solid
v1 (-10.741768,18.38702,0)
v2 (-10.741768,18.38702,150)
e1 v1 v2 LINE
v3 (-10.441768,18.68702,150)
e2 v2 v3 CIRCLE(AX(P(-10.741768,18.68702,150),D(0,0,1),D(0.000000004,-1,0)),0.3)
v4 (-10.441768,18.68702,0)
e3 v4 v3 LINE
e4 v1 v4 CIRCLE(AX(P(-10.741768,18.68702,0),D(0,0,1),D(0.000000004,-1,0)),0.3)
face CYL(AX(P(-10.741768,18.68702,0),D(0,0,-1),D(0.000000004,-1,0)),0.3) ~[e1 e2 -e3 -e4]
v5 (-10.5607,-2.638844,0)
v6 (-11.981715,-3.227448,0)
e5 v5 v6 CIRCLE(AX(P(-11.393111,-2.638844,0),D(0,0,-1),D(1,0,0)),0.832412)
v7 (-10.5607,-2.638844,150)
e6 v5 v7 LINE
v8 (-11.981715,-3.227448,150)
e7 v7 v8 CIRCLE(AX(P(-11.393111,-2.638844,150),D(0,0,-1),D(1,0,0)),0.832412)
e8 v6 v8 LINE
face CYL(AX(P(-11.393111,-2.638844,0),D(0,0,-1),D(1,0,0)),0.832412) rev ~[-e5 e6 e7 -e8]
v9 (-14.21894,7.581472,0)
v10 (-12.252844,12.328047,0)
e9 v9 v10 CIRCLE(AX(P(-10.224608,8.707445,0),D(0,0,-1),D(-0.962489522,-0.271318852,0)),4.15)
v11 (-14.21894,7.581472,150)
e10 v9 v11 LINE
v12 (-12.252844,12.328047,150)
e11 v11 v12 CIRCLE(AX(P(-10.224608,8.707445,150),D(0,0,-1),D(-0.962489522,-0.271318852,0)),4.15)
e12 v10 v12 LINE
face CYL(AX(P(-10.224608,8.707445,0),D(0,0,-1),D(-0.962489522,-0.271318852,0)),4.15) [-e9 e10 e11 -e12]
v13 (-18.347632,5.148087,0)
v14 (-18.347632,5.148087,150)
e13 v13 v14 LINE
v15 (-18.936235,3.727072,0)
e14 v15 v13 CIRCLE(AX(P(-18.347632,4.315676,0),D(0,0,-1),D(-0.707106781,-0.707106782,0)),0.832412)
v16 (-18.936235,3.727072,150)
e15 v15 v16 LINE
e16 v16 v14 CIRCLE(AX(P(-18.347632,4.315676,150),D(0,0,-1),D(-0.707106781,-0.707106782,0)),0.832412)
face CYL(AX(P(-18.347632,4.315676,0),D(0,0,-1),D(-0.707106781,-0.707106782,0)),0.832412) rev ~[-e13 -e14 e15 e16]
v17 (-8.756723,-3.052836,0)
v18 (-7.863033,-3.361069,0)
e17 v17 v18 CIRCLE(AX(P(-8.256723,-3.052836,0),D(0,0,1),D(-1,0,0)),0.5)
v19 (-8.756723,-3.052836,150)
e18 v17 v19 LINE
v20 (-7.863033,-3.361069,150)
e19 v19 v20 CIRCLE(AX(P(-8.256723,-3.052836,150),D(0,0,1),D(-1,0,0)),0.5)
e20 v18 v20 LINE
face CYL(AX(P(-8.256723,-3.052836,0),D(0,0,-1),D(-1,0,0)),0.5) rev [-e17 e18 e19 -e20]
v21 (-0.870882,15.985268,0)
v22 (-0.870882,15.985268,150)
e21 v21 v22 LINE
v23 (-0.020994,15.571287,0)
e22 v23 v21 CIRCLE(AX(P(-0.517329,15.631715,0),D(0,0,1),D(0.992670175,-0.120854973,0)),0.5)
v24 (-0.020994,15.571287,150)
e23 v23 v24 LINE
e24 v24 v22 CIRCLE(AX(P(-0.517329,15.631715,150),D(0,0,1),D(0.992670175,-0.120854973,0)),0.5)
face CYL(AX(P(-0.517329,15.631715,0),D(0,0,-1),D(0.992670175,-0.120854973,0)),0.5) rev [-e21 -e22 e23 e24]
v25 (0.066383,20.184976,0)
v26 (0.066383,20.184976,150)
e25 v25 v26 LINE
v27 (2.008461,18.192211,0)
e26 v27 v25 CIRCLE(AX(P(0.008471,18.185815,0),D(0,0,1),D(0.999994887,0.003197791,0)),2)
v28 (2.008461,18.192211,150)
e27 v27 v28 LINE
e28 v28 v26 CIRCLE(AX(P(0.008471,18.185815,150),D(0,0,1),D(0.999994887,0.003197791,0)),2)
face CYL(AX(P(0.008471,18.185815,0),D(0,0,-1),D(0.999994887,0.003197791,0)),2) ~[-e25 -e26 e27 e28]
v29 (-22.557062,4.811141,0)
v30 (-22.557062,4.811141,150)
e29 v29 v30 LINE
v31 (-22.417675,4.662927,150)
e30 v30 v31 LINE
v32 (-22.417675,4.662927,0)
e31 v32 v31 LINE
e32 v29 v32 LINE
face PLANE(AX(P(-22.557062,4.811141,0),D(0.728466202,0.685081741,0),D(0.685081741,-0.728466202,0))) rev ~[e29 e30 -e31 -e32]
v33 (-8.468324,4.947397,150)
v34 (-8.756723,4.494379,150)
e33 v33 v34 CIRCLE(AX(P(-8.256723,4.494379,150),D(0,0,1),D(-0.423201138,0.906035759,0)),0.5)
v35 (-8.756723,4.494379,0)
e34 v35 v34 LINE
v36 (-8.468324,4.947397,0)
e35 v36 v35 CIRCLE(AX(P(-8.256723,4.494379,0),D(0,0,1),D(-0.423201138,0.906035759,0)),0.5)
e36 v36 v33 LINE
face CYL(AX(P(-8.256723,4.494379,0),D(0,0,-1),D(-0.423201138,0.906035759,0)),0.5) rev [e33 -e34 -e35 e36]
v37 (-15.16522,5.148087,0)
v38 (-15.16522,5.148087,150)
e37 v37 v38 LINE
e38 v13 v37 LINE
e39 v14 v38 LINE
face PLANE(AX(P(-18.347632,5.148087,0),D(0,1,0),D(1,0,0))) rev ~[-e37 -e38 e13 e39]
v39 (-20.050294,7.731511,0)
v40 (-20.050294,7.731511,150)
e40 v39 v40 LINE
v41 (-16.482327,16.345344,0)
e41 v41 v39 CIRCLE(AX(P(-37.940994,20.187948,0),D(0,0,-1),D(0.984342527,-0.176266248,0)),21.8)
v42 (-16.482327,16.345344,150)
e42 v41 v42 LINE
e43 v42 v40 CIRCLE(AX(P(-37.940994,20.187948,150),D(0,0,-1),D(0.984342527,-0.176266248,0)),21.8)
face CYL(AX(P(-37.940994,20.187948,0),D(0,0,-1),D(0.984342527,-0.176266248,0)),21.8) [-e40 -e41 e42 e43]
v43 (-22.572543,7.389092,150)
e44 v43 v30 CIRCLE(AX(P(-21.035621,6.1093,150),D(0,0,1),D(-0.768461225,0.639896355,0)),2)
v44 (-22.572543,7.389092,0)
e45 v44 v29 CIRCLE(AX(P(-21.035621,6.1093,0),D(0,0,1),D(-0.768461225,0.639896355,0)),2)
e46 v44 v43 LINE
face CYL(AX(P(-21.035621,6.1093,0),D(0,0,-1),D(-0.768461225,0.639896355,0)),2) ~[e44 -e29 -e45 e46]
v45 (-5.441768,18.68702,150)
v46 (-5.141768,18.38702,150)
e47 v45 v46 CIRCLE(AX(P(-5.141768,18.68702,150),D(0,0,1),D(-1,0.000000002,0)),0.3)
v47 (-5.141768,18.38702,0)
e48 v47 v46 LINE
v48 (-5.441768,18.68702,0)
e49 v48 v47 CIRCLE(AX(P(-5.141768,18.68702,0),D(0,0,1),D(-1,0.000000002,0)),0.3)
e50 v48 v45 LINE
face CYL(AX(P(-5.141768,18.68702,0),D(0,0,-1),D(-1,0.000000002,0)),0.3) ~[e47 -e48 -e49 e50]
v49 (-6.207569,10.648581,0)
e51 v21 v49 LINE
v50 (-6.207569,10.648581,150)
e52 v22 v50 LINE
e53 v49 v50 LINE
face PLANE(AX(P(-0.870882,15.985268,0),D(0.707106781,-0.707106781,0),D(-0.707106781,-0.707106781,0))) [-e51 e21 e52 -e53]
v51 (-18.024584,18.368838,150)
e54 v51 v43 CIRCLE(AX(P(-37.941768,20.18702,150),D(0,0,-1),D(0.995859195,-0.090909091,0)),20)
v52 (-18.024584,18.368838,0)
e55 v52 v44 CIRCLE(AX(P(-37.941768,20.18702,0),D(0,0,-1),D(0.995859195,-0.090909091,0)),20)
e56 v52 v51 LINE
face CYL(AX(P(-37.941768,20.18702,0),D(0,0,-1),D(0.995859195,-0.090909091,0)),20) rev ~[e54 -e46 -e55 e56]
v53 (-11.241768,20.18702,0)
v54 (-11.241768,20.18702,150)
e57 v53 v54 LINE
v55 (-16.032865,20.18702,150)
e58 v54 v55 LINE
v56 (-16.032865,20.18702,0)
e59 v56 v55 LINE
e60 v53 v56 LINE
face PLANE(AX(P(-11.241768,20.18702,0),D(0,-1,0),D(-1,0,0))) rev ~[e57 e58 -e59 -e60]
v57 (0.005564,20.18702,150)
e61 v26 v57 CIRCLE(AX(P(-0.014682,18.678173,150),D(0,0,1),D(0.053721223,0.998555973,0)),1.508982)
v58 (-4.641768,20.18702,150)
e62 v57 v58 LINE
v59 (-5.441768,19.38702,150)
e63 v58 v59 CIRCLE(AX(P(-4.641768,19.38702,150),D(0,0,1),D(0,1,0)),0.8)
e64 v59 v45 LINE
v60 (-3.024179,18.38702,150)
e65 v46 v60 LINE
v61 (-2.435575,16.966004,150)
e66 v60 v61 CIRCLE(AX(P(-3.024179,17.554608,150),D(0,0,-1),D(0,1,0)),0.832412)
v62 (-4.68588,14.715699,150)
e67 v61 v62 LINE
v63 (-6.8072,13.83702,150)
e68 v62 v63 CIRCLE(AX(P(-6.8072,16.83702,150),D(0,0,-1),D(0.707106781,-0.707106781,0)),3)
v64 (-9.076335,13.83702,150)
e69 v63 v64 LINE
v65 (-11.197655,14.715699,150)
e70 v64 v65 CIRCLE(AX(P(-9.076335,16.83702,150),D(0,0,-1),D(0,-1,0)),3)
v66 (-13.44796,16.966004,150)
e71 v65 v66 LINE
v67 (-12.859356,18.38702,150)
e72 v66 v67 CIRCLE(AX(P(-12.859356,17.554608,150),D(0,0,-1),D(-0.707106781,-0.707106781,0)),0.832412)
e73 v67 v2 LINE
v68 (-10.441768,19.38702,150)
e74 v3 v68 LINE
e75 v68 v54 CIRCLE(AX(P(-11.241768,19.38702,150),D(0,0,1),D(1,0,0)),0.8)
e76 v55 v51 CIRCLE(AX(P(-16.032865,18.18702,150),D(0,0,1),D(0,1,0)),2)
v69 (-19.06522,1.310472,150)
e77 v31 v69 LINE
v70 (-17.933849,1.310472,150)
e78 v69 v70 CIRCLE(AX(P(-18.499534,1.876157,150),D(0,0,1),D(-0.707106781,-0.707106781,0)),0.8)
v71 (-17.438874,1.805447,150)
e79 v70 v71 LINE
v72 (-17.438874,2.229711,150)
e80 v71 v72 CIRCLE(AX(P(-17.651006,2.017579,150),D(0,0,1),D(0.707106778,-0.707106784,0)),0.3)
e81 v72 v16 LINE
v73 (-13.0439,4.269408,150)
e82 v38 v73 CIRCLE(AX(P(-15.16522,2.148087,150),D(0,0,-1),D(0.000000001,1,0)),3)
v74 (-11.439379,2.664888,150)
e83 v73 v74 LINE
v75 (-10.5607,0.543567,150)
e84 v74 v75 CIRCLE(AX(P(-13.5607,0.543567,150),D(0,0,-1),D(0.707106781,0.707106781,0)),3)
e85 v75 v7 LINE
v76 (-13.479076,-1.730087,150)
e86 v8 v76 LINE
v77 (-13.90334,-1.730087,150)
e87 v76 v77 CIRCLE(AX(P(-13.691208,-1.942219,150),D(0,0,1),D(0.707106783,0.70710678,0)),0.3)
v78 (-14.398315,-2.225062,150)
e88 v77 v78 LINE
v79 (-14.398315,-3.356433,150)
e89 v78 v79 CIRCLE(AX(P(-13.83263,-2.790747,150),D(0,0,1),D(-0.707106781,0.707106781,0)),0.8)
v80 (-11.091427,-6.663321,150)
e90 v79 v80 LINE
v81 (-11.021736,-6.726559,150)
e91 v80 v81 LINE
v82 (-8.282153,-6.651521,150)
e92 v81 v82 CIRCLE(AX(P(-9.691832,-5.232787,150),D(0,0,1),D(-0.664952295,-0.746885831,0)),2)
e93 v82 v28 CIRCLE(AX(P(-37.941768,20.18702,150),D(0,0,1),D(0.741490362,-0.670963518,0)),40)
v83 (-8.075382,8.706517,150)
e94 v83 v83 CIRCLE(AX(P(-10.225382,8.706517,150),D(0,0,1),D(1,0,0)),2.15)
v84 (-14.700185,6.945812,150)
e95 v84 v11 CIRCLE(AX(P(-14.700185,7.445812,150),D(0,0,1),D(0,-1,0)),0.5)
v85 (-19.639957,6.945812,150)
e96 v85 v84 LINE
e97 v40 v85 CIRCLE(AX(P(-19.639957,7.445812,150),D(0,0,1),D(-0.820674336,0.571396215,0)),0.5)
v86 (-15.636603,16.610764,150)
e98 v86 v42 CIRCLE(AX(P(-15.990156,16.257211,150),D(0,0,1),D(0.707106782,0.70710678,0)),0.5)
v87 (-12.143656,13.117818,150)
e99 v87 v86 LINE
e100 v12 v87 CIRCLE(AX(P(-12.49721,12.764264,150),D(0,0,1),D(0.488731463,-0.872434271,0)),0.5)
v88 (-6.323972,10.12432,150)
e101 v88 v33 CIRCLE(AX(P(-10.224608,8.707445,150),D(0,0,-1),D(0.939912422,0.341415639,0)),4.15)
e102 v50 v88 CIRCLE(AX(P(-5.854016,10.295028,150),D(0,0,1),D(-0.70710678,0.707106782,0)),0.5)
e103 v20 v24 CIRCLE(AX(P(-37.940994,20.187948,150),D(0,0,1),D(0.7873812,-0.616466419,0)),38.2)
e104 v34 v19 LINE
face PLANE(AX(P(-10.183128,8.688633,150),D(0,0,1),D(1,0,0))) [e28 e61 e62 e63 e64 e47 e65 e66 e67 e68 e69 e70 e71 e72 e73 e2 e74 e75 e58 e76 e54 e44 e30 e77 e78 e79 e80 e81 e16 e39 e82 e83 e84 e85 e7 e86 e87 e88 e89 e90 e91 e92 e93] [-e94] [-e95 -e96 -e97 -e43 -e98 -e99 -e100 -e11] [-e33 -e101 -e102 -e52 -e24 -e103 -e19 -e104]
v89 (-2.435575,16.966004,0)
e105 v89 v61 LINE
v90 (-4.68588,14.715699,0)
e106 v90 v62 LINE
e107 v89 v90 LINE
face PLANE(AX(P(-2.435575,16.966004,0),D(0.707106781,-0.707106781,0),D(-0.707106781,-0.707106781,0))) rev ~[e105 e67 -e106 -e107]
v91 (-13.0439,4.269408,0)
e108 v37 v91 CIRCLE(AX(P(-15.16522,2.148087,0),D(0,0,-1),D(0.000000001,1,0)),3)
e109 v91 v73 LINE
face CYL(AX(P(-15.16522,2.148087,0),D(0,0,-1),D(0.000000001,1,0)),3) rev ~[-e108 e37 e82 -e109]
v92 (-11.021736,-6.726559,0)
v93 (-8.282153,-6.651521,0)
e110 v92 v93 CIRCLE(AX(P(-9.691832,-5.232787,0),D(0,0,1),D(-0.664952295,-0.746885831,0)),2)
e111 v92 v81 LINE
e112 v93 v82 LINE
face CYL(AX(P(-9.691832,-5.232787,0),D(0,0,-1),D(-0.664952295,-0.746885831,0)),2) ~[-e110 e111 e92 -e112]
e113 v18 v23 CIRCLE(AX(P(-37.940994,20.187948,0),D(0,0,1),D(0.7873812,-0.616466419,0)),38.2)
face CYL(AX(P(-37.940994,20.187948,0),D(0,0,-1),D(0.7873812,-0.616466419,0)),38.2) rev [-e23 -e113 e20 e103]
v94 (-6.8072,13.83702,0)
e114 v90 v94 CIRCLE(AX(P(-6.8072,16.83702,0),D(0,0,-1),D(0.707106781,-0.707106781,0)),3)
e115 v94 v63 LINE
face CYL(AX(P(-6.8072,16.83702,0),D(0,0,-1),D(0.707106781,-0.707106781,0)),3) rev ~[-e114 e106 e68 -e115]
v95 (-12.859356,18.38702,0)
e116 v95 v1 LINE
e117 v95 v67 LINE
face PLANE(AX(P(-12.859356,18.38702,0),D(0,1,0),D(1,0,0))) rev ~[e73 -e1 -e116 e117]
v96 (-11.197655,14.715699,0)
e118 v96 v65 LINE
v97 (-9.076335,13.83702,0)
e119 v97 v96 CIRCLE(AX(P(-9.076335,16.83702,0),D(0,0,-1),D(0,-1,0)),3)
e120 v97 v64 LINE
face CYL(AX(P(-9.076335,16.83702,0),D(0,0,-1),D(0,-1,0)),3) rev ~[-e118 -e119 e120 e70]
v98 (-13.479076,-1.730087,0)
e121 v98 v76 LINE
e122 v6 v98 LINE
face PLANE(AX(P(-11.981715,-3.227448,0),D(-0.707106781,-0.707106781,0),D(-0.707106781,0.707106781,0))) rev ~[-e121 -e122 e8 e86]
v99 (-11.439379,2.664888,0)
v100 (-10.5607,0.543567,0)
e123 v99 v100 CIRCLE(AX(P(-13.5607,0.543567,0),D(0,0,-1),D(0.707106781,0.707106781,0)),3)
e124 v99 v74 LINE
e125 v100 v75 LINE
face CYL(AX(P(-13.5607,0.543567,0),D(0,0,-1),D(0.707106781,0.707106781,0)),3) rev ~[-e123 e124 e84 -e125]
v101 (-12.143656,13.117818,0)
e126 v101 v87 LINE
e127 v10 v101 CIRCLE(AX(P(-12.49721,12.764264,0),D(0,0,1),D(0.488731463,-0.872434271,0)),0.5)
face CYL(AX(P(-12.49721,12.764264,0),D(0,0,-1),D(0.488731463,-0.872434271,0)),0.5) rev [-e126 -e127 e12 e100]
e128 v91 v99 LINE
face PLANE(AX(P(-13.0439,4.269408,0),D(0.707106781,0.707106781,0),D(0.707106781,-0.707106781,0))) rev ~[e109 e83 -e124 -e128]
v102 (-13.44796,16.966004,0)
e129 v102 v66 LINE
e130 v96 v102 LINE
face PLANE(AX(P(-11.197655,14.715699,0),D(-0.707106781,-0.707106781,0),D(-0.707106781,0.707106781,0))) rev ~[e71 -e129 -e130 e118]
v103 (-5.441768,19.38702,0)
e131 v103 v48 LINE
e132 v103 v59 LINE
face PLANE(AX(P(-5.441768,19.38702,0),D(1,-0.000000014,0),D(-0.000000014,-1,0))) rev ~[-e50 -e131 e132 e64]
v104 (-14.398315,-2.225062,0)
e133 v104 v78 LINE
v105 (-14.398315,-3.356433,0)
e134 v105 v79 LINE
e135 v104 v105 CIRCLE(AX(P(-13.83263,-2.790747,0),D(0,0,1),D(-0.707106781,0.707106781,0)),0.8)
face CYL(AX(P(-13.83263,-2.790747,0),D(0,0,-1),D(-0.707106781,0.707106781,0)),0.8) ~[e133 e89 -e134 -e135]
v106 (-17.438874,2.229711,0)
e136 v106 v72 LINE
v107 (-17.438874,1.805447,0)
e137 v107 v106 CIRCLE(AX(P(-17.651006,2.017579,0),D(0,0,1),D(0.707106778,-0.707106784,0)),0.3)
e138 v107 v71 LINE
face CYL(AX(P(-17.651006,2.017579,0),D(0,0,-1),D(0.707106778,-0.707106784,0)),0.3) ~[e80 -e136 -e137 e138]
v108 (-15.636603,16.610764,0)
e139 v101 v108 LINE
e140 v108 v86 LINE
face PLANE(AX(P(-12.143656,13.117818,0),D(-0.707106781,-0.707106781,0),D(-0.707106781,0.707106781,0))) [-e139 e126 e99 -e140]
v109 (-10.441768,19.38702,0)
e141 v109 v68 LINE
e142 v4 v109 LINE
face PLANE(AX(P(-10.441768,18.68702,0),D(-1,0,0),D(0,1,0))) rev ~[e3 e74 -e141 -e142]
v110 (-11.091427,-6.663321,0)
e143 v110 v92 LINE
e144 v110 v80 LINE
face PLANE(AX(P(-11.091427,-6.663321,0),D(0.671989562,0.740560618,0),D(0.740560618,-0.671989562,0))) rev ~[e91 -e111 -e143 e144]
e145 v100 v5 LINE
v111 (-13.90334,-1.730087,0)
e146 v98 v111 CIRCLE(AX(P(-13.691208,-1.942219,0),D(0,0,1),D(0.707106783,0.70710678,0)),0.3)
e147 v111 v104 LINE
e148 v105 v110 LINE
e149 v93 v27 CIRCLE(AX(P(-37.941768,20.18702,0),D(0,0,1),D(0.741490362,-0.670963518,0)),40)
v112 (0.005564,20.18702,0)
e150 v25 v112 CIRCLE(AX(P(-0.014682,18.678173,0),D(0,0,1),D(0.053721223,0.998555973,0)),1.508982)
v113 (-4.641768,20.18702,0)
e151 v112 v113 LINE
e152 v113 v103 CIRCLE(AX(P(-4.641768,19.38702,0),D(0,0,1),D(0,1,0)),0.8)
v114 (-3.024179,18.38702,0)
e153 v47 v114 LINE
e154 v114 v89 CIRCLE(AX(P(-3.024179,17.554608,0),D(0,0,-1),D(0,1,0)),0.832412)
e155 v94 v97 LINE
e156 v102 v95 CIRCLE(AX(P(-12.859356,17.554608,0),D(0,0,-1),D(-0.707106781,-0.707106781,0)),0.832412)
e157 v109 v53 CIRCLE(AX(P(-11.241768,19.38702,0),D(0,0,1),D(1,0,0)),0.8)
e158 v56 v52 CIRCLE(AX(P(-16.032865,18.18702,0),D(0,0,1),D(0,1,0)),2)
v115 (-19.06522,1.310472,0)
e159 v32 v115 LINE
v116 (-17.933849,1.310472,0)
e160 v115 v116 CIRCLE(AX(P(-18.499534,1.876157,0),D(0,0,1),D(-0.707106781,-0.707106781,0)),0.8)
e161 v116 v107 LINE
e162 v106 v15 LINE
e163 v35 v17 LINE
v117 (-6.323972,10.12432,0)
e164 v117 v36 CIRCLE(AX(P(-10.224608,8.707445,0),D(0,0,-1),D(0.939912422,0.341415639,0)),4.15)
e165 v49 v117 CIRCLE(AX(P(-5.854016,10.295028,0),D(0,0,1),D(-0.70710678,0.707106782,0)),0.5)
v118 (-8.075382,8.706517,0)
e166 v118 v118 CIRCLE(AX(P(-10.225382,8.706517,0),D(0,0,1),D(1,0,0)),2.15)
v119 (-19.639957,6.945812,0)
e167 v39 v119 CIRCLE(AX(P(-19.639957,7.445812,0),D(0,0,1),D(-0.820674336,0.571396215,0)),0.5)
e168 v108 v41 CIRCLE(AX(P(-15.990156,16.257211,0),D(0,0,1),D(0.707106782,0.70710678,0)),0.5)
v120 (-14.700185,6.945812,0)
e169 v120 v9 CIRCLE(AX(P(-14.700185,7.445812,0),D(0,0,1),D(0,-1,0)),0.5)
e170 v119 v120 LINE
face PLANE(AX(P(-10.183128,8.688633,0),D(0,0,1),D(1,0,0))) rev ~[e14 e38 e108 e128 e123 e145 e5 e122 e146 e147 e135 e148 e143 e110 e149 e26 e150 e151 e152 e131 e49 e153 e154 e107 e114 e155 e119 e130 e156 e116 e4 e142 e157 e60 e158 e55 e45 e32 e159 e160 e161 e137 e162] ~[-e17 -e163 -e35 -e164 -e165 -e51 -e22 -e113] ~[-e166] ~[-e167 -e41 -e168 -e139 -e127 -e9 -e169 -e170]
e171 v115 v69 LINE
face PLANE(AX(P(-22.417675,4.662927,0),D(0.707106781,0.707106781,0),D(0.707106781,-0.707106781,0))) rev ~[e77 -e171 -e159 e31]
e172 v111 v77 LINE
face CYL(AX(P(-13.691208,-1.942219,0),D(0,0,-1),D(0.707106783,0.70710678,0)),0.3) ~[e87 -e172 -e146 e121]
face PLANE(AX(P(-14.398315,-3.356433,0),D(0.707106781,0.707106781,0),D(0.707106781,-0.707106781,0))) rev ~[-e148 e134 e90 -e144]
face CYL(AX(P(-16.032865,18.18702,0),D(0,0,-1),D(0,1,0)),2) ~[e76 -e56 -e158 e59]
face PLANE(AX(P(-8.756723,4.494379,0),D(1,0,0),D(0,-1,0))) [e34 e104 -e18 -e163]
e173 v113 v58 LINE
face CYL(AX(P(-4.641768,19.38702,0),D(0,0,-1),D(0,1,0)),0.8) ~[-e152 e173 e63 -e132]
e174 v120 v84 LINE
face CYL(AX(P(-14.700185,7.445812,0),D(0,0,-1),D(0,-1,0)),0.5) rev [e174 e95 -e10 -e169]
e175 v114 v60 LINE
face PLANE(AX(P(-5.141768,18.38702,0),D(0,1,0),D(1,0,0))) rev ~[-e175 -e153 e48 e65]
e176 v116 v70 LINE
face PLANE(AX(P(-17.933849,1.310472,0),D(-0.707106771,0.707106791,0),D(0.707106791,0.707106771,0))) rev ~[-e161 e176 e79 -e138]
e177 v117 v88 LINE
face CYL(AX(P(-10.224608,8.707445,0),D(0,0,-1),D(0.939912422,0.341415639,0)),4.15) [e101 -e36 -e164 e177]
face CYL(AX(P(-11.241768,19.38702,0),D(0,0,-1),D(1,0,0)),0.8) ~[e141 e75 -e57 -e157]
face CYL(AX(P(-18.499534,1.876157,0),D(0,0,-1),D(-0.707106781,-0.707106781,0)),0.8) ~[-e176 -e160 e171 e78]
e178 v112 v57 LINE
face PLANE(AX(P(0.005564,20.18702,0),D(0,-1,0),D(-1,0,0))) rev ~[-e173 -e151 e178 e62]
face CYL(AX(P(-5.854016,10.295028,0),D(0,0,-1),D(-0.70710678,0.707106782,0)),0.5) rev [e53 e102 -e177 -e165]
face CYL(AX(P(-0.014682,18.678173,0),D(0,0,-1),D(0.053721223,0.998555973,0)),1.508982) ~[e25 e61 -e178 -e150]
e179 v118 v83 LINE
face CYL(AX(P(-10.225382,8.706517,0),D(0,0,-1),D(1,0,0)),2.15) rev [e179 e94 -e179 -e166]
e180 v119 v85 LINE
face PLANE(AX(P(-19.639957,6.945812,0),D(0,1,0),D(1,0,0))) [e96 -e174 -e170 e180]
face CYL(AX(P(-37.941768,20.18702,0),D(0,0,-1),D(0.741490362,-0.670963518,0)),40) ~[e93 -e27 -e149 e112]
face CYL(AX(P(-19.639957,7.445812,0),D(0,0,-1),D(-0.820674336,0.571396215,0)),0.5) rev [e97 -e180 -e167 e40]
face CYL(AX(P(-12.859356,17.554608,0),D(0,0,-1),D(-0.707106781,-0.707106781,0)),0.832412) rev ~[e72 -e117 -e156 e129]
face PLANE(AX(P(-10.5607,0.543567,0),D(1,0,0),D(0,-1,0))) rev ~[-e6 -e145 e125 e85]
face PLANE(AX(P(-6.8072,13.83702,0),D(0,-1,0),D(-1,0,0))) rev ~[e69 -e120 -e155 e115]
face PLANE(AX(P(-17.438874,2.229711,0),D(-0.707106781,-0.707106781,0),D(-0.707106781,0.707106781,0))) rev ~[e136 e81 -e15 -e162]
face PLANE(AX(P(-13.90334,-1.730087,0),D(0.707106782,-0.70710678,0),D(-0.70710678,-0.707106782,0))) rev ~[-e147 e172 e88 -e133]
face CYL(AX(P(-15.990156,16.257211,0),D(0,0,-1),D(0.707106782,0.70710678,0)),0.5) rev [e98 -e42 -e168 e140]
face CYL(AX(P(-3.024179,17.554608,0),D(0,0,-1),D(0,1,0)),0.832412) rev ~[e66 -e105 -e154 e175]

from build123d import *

# Parameters (mm, degrees)
BOSS_EXTRUDE1_DEPTH = 150


with BuildPart() as part:
    # Sketch1 → Boss-Extrude1 (new body)
    with BuildSketch(Plane.XY):
        with BuildLine():
            Line((-17.933849058, 1.310471954), (-17.438874304, 1.805446694))
            ThreePointArc((-17.438874304, 1.805446694), (-17.351006338, 2.017578728), (-17.438874304, 2.229710762))
            Line((-17.438874304, 2.229710762), (-18.936235421, 3.72707188))
            ThreePointArc((-18.936235421, 3.72707188), (-19.116679575, 4.6342259), (-18.347631531, 5.148087374))
            Line((-18.347631531, 5.148087374), (-15.165219907, 5.148087374))
            ThreePointArc((-15.165219907, 5.148087374), (-14.01716961, 4.919725971), (-13.043899564, 4.269407717))
            Line((-13.043899564, 4.269407717), (-11.439379376, 2.66488753))
            ThreePointArc((-11.439379376, 2.66488753), (-10.789061123, 1.691617485), (-10.560699721, 0.54356719))
            Line((-10.560699721, 0.54356719), (-10.560699721, -2.638844434))
            ThreePointArc((-10.560699721, -2.638844434), (-11.074561199, -3.407892483), (-11.981715225, -3.227448328))
            Line((-11.981715225, -3.227448328), (-13.479076343, -1.730087211))
            ThreePointArc((-13.479076343, -1.730087211), (-13.691208377, -1.642219245), (-13.903340412, -1.730087211))
            Line((-13.903340412, -1.730087211), (-14.398315158, -2.225061958))
            ThreePointArc((-14.398315158, -2.225061958), (-14.632629733, -2.790747383), (-14.398315158, -3.356432808))
            Line((-14.398315158, -3.356432808), (-11.091426526, -6.66332144))
            Line((-11.091426526, -6.66332144), (-11.021736276, -6.72655883))
            ThreePointArc((-11.021736276, -6.72655883), (-9.637071865, -7.232037367), (-8.282153045, -6.651521154))
            ThreePointArc((-8.282153045, -6.651521154), (-0.986587883, 4.879678298), (2.008460712, 18.19221058))
            ThreePointArc((2.008460712, 18.19221058), (1.440783284, 19.581695132), (0.06638279, 20.184976381))
            ThreePointArc((0.06638279, 20.184976381), (0.035983891, 20.186304583), (0.00556439, 20.187019567))
            Line((0.00556439, 20.187019567), (-4.64176753, 20.187019567))
            ThreePointArc((-4.64176753, 20.187019567), (-5.207452955, 19.952704992), (-5.44176753, 19.387019567))
            Line((-5.44176753, 19.387019567), (-5.44176754, 18.687019567))
            ThreePointArc((-5.44176754, 18.687019567), (-5.353899574, 18.474887532), (-5.14176754, 18.387019567))
            Line((-5.14176754, 18.387019567), (-3.02417914, 18.387019567))
            ThreePointArc((-3.02417914, 18.387019567), (-2.255131096, 17.873158092), (-2.43557525, 16.966004073))
            Line((-2.43557525, 16.966004073), (-4.68588009, 14.715699233))
            ThreePointArc((-4.68588009, 14.715699233), (-5.659150136, 14.065380979), (-6.807200433, 13.837019576))
            Line((-6.807200433, 13.837019576), (-9.076334643, 13.837019576))
            ThreePointArc((-9.076334643, 13.837019576), (-10.224384938, 14.065380978), (-11.197654983, 14.715699231))
            Line((-11.197654983, 14.715699231), (-13.447959823, 16.966004071))
            ThreePointArc((-13.447959823, 16.966004071), (-13.628403978, 17.873158097), (-12.859355929, 18.387019575))
            Line((-12.859355929, 18.387019575), (-10.741767529, 18.387019575))
            ThreePointArc((-10.741767529, 18.387019575), (-10.529635495, 18.474887541), (-10.441767529, 18.687019575))
            Line((-10.441767529, 18.687019575), (-10.441767529, 19.387019575))
            ThreePointArc((-10.441767529, 19.387019575), (-10.676082104, 19.952705), (-11.241767529, 20.187019575))
            Line((-11.241767529, 20.187019575), (-16.032865229, 20.187019575))
            ThreePointArc((-16.032865229, 20.187019575), (-17.381264954, 19.664117467), (-18.02458362, 18.368837756))
            ThreePointArc((-18.02458362, 18.368837756), (-19.464176878, 12.533350929), (-22.57254303, 7.389092466))
            ThreePointArc((-22.57254303, 7.389092466), (-23.035584519, 6.097289793), (-22.557062201, 4.811141295))
            Line((-22.557062201, 4.811141295), (-22.41767475, 4.662926796))
            Line((-22.41767475, 4.662926796), (-19.065219908, 1.310471954))
            ThreePointArc((-19.065219908, 1.310471954), (-18.499534483, 1.076157379), (-17.933849058, 1.310471954))
        make_face()
        with BuildLine():
            Line((-12.14365631, 13.117817809), (-15.63660261, 16.610764109))
            ThreePointArc((-15.63660261, 16.610764109), (-16.139874769, 16.734268673), (-16.482327269, 16.345343836))
            ThreePointArc((-16.482327269, 16.345343836), (-17.800420542, 11.845449218), (-20.050293851, 7.731510528))
            ThreePointArc((-20.050293851, 7.731510528), (-20.083154751, 7.214348654), (-19.63995668, 6.945812413))
            Line((-19.63995668, 6.945812413), (-14.70018465, 6.945812413))
            ThreePointArc((-14.70018465, 6.945812413), (-14.301543386, 7.144009261), (-14.21893989, 7.581471843))
            ThreePointArc((-14.21893989, 7.581471843), (-14.058708433, 10.295581323), (-12.252843967, 12.328047292))
            ThreePointArc((-12.252843967, 12.328047292), (-12.001920705, 12.695789539), (-12.14365631, 13.117817809))
        make_face(mode=Mode.SUBTRACT)
        with BuildLine():
            Line((-0.870882283, 15.9852679), (-6.207568998, 10.648581185))
            ThreePointArc((-6.207568998, 10.648581185), (-6.342128781, 10.40340459), (-6.323971818, 10.124319975))
            ThreePointArc((-6.323971818, 10.124319975), (-6.390508312, 7.119308828), (-8.468323669, 4.947396666))
            ThreePointArc((-8.468323669, 4.947396666), (-8.678505203, 4.762892953), (-8.7567231, 4.494378786))
            Line((-8.7567231, 4.494378786), (-8.7567231, -3.052835944))
            ThreePointArc((-8.7567231, -3.052835944), (-8.419748711, -3.525511996), (-7.8630325, -3.361069154))
            ThreePointArc((-7.8630325, -3.361069154), (-2.648796205, 5.569440932), (-0.020993808, 15.571287015))
            ThreePointArc((-0.020993808, 15.571287015), (-0.298372973, 16.081223462), (-0.870882283, 15.9852679))
        make_face(mode=Mode.SUBTRACT)
        with BuildLine():
            ThreePointArc((-12.37538155, 8.706516606), (-10.22538155, 6.556516606), (-8.07538155, 8.706516606))
            ThreePointArc((-8.07538155, 8.706516606), (-10.22538155, 10.856516606), (-12.37538155, 8.706516606))
        make_face(mode=Mode.SUBTRACT)
    extrude(amount=BOSS_EXTRUDE1_DEPTH)


solid = part.part
